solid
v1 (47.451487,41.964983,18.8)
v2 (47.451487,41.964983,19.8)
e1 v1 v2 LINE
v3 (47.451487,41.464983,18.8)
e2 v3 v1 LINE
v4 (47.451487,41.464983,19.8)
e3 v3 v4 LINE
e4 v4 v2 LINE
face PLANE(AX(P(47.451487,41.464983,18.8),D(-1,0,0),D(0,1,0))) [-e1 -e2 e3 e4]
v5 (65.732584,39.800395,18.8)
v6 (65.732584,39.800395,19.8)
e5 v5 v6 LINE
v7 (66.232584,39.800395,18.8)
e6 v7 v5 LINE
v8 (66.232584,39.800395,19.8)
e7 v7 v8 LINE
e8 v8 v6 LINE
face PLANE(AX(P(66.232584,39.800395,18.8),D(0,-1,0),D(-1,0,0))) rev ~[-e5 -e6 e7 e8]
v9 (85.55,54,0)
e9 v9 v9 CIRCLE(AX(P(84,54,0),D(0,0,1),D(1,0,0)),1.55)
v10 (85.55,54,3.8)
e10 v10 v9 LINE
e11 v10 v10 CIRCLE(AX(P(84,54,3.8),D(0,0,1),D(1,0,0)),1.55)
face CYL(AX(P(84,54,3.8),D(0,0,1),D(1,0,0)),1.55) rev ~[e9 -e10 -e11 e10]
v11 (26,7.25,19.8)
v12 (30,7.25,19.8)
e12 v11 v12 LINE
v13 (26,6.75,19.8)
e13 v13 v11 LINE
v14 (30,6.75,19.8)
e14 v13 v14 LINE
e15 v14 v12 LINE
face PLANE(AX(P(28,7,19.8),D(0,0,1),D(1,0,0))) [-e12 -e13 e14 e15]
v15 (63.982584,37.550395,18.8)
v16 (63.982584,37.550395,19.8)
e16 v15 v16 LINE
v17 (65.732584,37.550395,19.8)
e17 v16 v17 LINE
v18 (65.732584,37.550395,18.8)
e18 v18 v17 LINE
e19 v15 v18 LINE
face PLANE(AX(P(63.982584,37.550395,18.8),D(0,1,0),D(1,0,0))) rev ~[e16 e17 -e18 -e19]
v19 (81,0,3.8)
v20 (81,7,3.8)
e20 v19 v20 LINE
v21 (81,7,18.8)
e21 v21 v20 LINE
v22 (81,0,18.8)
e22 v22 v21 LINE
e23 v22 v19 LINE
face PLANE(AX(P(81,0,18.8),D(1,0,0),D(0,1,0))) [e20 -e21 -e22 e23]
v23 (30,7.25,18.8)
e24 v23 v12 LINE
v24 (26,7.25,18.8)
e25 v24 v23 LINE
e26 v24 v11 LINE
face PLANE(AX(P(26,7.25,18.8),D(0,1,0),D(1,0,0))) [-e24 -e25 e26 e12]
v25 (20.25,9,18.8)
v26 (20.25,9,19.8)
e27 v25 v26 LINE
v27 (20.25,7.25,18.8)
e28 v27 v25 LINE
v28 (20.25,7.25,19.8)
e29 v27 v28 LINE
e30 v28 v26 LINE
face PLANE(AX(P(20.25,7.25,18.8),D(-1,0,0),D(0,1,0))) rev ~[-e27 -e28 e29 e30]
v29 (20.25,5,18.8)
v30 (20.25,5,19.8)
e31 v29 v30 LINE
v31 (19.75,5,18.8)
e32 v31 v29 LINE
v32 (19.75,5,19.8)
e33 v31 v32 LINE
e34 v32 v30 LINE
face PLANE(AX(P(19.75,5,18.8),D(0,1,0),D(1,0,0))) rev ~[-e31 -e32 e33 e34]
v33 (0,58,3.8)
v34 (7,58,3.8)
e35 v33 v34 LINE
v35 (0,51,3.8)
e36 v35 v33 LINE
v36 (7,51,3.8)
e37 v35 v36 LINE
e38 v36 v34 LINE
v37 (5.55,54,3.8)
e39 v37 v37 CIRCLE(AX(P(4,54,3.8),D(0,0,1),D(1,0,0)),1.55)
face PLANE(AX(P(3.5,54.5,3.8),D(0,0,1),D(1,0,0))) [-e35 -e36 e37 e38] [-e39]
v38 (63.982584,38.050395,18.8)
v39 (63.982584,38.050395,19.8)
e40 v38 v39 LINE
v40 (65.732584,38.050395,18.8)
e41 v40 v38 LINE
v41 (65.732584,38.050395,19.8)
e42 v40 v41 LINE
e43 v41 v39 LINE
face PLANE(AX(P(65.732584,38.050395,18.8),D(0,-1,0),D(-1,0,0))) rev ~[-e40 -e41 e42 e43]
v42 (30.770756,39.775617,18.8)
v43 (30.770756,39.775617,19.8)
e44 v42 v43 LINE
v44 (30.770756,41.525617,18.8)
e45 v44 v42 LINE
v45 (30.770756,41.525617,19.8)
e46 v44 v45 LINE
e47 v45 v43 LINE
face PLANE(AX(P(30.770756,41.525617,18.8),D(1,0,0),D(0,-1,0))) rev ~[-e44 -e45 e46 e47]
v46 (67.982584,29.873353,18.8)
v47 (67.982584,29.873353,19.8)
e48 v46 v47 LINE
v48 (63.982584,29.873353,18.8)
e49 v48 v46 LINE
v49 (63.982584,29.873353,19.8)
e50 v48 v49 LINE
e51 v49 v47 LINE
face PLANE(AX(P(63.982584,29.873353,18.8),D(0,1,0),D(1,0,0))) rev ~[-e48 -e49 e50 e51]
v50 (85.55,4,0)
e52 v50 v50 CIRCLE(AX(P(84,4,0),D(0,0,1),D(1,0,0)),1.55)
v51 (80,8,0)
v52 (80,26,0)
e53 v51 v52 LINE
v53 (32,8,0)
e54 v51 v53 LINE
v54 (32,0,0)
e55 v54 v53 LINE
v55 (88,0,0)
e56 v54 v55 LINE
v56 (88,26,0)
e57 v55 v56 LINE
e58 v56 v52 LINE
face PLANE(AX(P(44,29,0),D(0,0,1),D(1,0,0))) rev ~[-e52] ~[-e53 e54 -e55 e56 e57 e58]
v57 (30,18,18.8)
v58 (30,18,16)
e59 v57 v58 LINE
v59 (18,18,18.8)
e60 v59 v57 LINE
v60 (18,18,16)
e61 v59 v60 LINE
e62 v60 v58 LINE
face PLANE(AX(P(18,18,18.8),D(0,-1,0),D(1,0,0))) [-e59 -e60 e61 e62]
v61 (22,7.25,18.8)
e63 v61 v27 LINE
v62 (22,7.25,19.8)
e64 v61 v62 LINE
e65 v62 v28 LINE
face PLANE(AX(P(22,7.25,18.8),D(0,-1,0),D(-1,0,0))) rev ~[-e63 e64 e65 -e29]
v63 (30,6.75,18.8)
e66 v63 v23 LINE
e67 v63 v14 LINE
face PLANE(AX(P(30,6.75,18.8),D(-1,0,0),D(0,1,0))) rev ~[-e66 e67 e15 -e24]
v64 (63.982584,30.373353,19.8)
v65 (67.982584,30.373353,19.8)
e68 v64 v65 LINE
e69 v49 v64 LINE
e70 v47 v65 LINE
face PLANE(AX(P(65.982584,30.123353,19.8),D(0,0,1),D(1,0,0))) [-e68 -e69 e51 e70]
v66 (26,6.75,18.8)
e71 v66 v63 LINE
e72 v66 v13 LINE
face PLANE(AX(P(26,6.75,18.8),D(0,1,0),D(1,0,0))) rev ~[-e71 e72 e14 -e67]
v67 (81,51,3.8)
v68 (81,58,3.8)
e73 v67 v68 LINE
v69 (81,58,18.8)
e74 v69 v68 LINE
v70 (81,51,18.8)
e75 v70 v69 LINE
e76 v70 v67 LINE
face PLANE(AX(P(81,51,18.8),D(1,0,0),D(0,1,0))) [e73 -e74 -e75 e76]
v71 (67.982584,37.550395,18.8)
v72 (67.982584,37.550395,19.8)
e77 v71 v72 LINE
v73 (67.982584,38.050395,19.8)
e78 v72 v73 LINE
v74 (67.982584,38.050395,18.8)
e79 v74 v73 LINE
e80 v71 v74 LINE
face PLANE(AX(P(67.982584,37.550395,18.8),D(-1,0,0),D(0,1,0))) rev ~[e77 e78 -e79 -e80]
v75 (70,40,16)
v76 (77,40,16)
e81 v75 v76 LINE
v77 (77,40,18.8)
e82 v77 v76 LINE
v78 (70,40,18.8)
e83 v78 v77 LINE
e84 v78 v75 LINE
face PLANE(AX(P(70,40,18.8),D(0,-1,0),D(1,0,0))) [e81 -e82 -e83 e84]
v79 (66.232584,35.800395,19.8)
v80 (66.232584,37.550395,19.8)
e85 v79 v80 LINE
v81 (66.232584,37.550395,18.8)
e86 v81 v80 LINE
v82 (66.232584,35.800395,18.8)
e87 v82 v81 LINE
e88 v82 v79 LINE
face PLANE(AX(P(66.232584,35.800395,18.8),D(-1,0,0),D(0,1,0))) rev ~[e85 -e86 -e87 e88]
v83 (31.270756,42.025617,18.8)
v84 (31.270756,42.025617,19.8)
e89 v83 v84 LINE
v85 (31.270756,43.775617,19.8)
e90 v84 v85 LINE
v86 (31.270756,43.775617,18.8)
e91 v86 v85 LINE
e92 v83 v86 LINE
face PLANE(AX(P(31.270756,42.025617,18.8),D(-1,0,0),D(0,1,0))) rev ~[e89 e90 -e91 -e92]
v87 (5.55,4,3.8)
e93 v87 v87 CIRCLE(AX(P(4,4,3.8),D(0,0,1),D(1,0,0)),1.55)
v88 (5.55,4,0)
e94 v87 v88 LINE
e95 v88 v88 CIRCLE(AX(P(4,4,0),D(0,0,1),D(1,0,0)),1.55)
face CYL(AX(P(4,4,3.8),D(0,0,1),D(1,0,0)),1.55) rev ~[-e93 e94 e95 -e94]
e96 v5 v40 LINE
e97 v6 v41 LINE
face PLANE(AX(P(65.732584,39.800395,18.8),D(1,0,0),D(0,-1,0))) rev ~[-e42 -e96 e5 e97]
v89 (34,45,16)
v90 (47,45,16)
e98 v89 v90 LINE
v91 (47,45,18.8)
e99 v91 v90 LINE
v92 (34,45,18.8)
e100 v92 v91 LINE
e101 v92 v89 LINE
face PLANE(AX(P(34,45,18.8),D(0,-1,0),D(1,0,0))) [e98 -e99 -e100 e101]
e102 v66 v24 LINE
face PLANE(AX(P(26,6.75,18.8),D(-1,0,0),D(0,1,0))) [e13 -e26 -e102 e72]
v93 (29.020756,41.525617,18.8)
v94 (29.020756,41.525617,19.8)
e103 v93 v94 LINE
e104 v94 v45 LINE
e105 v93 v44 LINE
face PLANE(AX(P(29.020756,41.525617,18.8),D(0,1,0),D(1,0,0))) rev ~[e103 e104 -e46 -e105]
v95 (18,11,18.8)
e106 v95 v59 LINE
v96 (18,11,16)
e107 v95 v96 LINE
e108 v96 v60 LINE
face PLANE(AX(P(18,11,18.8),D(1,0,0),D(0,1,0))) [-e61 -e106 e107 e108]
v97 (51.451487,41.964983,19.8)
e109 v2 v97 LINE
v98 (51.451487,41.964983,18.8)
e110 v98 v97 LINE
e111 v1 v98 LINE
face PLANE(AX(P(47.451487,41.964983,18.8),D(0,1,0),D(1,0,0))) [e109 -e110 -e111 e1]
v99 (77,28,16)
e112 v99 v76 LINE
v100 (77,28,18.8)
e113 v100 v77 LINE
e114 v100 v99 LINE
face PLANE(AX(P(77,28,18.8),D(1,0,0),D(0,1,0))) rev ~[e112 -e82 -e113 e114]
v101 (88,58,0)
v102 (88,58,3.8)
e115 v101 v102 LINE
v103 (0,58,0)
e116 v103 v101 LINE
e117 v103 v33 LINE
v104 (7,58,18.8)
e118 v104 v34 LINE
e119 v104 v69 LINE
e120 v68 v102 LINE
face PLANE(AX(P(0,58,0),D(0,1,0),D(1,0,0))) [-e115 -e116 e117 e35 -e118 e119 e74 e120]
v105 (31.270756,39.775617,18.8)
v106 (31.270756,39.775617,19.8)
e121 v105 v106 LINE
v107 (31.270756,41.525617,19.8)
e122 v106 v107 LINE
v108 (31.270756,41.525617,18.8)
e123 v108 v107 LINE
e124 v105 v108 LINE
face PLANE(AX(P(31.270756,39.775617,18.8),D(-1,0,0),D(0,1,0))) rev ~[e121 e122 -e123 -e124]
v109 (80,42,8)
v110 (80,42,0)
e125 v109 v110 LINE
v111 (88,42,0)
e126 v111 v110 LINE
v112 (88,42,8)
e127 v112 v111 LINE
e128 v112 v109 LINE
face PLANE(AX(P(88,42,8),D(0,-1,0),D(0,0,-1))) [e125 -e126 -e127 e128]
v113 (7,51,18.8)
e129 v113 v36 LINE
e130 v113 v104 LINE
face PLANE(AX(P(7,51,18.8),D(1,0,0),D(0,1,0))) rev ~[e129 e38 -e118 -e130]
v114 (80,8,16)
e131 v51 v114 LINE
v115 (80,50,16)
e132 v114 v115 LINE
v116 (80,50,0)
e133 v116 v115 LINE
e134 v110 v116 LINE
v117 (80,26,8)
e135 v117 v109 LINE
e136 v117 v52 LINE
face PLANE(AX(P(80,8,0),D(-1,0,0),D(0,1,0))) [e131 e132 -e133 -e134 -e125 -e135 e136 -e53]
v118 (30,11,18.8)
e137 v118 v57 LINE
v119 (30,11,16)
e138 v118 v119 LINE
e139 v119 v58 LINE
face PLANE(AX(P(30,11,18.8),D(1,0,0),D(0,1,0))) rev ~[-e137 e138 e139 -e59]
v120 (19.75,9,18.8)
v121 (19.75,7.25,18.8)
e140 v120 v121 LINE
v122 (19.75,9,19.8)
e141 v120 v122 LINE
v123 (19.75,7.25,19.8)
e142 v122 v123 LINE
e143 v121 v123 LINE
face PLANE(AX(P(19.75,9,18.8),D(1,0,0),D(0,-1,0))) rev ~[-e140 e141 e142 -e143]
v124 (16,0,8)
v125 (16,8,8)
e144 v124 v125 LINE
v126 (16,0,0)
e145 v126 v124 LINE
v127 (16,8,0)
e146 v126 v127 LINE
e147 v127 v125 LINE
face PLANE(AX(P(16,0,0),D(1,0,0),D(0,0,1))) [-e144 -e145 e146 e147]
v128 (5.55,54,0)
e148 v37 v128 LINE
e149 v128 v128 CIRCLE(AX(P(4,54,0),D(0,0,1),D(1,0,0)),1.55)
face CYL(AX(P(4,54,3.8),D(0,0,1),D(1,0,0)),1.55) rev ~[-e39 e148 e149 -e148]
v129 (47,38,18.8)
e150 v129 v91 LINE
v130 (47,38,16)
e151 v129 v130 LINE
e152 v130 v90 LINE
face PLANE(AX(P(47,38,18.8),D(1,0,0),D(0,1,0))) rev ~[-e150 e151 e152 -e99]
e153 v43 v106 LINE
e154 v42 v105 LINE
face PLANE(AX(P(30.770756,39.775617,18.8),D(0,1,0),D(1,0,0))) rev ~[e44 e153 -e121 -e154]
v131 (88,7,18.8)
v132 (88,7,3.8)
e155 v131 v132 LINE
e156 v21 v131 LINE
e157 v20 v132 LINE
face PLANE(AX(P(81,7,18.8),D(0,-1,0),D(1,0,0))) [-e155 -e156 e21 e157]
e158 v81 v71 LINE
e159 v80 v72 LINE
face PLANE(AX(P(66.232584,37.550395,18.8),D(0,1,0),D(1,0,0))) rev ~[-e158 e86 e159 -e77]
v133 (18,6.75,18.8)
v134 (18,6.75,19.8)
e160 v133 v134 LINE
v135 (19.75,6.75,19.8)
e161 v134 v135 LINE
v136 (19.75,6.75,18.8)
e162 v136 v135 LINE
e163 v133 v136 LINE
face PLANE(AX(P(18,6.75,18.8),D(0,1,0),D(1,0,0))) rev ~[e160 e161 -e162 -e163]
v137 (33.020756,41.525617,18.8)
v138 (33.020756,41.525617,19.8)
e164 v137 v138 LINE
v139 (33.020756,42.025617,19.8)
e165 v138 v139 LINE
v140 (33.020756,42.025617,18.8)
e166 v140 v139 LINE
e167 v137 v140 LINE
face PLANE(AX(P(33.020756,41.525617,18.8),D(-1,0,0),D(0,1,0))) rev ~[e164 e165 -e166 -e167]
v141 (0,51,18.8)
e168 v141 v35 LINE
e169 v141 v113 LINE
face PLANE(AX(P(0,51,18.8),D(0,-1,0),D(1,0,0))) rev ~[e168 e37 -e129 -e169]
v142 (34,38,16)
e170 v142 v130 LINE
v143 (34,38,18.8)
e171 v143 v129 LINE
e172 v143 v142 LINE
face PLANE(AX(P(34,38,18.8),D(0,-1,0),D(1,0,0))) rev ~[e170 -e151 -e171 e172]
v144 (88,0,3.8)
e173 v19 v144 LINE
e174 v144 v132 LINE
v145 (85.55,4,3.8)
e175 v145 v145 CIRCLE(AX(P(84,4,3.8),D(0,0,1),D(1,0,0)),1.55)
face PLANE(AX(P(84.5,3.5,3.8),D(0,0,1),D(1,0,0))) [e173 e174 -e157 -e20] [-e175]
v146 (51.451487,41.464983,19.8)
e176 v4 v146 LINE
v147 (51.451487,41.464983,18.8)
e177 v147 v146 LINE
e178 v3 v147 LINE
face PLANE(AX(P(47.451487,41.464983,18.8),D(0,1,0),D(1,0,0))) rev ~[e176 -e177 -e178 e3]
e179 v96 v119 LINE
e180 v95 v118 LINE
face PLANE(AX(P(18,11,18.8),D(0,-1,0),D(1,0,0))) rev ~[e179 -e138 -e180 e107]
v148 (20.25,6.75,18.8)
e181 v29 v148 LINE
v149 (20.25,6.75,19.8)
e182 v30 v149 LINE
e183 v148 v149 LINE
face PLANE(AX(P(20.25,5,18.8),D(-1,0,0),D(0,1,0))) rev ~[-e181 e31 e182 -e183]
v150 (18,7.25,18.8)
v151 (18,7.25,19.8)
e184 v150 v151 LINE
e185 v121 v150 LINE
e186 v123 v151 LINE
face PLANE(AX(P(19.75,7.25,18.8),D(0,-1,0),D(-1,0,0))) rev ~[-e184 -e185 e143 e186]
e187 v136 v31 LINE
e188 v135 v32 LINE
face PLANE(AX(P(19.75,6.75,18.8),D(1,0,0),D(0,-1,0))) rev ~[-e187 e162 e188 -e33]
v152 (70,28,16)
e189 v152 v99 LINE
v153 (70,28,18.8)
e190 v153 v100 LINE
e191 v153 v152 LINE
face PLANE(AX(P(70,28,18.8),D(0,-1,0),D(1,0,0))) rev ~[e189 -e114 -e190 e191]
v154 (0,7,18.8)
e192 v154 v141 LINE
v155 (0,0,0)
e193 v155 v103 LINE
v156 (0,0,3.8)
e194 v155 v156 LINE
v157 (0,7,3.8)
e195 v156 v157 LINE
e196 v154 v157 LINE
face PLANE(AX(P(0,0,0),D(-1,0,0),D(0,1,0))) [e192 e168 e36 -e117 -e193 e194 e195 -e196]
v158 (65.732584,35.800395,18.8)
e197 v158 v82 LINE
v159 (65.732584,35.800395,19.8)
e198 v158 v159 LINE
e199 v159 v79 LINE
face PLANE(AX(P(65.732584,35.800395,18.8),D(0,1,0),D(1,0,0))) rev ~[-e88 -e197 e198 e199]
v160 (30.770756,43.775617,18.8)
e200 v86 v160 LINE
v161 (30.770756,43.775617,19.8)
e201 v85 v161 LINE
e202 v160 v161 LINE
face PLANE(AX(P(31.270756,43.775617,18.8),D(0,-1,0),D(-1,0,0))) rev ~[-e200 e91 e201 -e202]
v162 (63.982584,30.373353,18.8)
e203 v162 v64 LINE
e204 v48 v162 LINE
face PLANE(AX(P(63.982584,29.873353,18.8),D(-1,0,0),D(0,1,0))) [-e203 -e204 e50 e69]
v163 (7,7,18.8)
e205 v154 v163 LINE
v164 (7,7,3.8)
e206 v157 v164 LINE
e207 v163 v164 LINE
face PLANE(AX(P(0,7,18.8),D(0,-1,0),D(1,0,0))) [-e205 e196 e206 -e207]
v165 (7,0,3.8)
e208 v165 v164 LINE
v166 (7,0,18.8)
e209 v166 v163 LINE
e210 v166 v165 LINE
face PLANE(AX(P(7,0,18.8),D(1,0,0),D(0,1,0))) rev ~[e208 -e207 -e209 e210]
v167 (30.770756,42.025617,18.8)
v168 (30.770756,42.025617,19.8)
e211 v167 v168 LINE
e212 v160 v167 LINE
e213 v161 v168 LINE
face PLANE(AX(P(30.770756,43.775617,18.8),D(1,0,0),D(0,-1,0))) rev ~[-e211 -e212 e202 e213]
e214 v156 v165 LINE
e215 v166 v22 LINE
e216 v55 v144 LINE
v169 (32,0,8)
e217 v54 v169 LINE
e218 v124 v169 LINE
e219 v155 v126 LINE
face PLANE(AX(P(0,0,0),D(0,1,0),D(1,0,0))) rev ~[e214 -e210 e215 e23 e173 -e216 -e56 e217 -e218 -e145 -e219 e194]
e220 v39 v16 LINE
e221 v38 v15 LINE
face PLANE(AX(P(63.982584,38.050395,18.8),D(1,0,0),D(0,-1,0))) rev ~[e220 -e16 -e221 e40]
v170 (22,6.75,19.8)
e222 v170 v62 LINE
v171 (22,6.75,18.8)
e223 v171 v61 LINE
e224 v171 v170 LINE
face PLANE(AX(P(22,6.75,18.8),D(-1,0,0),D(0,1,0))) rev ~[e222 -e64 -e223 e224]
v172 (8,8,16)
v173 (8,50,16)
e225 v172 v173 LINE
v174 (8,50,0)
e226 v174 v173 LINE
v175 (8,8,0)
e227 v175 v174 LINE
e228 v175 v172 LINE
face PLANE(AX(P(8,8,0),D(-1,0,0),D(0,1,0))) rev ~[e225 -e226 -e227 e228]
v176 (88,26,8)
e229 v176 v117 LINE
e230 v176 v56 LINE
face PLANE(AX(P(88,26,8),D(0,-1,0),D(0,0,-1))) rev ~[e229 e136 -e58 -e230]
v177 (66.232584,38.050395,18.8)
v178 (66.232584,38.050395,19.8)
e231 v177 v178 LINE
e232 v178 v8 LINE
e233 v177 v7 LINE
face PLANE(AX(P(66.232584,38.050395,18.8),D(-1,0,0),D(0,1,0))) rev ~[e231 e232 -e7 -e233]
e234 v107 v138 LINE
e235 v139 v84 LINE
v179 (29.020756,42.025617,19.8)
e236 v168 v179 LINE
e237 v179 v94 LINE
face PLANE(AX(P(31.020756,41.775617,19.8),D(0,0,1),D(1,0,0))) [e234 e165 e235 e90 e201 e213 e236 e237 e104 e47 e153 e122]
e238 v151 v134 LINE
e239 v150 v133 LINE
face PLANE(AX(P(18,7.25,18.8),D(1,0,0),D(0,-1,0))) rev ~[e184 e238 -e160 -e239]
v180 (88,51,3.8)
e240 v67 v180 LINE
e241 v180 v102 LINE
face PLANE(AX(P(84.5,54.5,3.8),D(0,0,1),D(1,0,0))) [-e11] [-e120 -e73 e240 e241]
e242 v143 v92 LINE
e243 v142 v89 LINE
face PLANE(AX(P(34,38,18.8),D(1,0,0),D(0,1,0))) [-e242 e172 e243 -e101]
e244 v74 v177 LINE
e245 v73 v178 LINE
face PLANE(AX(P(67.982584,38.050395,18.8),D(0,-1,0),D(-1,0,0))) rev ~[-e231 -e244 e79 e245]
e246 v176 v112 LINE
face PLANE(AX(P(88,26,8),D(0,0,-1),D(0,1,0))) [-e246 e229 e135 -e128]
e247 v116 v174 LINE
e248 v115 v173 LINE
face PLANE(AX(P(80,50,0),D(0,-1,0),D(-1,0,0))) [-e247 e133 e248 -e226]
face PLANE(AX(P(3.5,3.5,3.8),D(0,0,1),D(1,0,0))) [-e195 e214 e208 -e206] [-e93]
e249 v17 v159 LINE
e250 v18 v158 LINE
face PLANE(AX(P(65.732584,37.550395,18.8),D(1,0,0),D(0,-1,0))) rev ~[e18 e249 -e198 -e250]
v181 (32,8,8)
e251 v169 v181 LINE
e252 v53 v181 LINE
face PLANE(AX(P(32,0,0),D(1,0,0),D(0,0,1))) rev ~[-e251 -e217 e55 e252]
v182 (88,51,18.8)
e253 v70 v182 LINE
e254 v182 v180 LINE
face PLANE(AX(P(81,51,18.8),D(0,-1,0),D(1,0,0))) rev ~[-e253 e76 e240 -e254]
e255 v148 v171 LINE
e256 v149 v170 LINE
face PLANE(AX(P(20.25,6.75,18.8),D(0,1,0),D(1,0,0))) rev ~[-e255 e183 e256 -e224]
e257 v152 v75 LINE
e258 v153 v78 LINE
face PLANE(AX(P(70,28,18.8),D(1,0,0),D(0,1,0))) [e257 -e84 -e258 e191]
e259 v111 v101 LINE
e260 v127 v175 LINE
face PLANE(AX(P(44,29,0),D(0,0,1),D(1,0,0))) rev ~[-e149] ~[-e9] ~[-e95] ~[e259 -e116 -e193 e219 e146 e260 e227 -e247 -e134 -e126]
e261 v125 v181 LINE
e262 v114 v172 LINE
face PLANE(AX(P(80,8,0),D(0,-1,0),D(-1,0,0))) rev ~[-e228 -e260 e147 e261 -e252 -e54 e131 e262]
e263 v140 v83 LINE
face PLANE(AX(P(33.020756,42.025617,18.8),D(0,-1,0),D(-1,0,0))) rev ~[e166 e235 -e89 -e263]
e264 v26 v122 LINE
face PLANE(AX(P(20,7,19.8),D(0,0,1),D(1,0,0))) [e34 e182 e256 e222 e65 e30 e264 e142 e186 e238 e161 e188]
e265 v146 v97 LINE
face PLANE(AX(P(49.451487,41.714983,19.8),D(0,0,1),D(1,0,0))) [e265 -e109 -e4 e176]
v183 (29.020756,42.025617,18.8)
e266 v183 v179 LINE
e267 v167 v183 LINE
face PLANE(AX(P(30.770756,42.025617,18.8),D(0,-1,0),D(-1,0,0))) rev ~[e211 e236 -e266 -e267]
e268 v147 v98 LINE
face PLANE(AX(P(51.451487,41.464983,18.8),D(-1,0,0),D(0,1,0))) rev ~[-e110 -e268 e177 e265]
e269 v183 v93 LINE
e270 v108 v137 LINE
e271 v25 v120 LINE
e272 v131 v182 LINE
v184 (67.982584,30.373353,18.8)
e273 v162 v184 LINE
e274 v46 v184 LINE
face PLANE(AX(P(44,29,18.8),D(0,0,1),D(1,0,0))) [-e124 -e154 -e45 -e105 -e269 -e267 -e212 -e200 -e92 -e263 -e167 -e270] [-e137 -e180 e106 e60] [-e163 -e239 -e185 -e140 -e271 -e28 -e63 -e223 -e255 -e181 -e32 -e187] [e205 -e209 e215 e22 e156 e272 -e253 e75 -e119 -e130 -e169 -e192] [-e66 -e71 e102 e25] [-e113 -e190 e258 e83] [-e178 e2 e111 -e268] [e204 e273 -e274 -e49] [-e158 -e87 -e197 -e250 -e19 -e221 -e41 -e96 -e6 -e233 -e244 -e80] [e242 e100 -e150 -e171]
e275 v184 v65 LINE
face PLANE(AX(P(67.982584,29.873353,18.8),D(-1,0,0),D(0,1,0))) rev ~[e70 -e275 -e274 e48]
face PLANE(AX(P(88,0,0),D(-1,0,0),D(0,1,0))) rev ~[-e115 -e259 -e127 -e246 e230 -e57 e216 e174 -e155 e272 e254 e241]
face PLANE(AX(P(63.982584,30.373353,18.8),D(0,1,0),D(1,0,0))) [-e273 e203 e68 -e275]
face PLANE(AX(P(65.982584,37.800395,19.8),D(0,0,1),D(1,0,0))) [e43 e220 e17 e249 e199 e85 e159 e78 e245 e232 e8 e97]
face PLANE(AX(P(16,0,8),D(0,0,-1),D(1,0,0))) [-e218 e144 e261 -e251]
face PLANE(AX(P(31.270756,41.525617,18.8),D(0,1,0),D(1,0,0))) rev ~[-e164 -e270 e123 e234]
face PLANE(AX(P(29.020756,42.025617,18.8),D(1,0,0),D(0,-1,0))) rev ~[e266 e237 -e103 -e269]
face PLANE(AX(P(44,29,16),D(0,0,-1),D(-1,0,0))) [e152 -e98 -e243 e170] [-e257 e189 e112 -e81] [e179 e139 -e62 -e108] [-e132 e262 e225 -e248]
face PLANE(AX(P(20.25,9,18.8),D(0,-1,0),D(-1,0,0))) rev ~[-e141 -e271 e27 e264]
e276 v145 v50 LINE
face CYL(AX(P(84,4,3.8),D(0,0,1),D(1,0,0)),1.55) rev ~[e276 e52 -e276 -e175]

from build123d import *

# Parameters (mm, degrees)
SKETCH_1_W           = 88
SKETCH_1_H           = 58
EXTRUDE_1_DEPTH      = 18.8
SKETCH_2_W           = 7
SKETCH_2_H           = 7
CUT_EXTRUDE_1_DEPTH  = 15
SKETCH_3_R           = 1.55
CUT_EXTRUDE_2_DEPTH  = 3
SKETCH_4_W           = 72
SKETCH_4_H           = 42
CUT_EXTRUDE_6_DEPTH  = 16
SKETCH_6_W           = 16
SKETCH_6_H           = 8
CUT_EXTRUDE_7_DEPTH  = 8
CUT_EXTRUDE_11_REACH = 109.058
SKETCH_7_W           = 12
SKETCH_7_H           = 7
SKETCH_7_W_2         = 7
SKETCH_7_H_2         = 12
SKETCH_7_W_3         = 13
CUT_EXTRUDE_13_REACH = 109.058
SKETCH_10_W          = 8
SKETCH_10_H          = 16
CUT_EXTRUDE_14_REACH = 108.457
SKETCH_3_2_R         = 1.55
SKETCH_14_W          = 4
SKETCH_14_H          = 0.5
EXTRUDE_3_DEPTH      = 1
SKETCH_16_W          = 4
SKETCH_16_H          = 0.5
EXTRUDE_5_DEPTH      = 1
SKETCH_18_W          = 4
SKETCH_18_H          = 0.5
EXTRUDE_6_DEPTH      = 1


with BuildPart() as part:
    # 草图1 → 凸台-拉伸1 (new body)
    with BuildSketch(Plane.XY):
        with Locations((44, 29)):
            Rectangle(SKETCH_1_W, SKETCH_1_H)
    extrude(amount=EXTRUDE_1_DEPTH)

    # 草图2 → 切除-拉伸1 (cut)
    with BuildSketch(Plane.XY.offset(18.8)):
        with Locations((3.5, 54.5)):
            Rectangle(SKETCH_2_W, SKETCH_2_H)
        with Locations((3.5, 3.5)):
            Rectangle(SKETCH_2_W, SKETCH_2_H)
        with Locations((84.5, 3.5)):
            Rectangle(SKETCH_2_W, SKETCH_2_H)
        with Locations((84.5, 54.5)):
            Rectangle(SKETCH_2_W, SKETCH_2_H)
    extrude(amount=-CUT_EXTRUDE_1_DEPTH, mode=Mode.SUBTRACT)

    # 草图3 → 切除-拉伸2 (cut)
    with BuildSketch(Plane.XY.offset(3.8)):
        with Locations((4, 54)):
            Circle(SKETCH_3_R)
        with Locations((4, 4)):
            Circle(SKETCH_3_R)
        with Locations((84, 4)):
            Circle(SKETCH_3_R)
        with Locations((84, 54)):
            Circle(SKETCH_3_R)
    extrude(amount=-CUT_EXTRUDE_2_DEPTH, mode=Mode.SUBTRACT)

    # 草图4 → 切除-拉伸6 (cut)
    with BuildSketch(Plane(origin=(0, 0, 0), x_dir=(-1, 0, 0), z_dir=(0, 0, -1))):
        with Locations((-44, 29)):
            Rectangle(SKETCH_4_W, SKETCH_4_H)
    extrude(amount=-CUT_EXTRUDE_6_DEPTH, mode=Mode.SUBTRACT)

    # 草图6 → 切除-拉伸7 (cut)
    with BuildSketch(Plane.XZ):
        with Locations((24, 4)):
            Rectangle(SKETCH_6_W, SKETCH_6_H)
    extrude(amount=-CUT_EXTRUDE_7_DEPTH, mode=Mode.SUBTRACT)

    # 草图7 → 切除-拉伸11 (cut, up to next)
    with BuildSketch(Plane.XY.offset(18.8), mode=Mode.PRIVATE) as cut_extrude_11_sk1:
        with Locations((24, 14.5)):
            Rectangle(SKETCH_7_W, SKETCH_7_H)
    cut_extrude_11_tool1 = extrude(cut_extrude_11_sk1.sketch, amount=-CUT_EXTRUDE_11_REACH, mode=Mode.PRIVATE) & part.part
    # 草图7 → 切除-拉伸11 (cut, up to next)
    with BuildSketch(Plane.XY.offset(18.8), mode=Mode.PRIVATE) as cut_extrude_11_sk2:
        with Locations((73.5, 34)):
            Rectangle(SKETCH_7_W_2, SKETCH_7_H_2)
    cut_extrude_11_tool2 = extrude(cut_extrude_11_sk2.sketch, amount=-CUT_EXTRUDE_11_REACH, mode=Mode.PRIVATE) & part.part
    # 草图7 → 切除-拉伸11 (cut, up to next)
    with BuildSketch(Plane.XY.offset(18.8), mode=Mode.PRIVATE) as cut_extrude_11_sk3:
        with Locations((40.5, 41.5)):
            Rectangle(SKETCH_7_W_3, SKETCH_7_H)
    cut_extrude_11_tool3 = extrude(cut_extrude_11_sk3.sketch, amount=-CUT_EXTRUDE_11_REACH, mode=Mode.PRIVATE) & part.part
    add(cut_extrude_11_tool1.solids().sort_by_distance((24, 14.5, 18.8))[0], mode=Mode.SUBTRACT)
    add(cut_extrude_11_tool2.solids().sort_by_distance((73.5, 34, 18.8))[0], mode=Mode.SUBTRACT)
    add(cut_extrude_11_tool3.solids().sort_by_distance((40.5, 41.5, 18.8))[0], mode=Mode.SUBTRACT)

    # 草图10 → 切除-拉伸13 (cut, up to next)
    with BuildSketch(Plane(origin=(88, 0, 0), x_dir=(0, 0, -1), z_dir=(1, 0, 0)), mode=Mode.PRIVATE) as cut_extrude_13_sk1:
        with Locations((-4, 34)):
            Rectangle(SKETCH_10_W, SKETCH_10_H)
    cut_extrude_13_tool1 = extrude(cut_extrude_13_sk1.sketch, amount=-CUT_EXTRUDE_13_REACH, mode=Mode.PRIVATE) & part.part
    add(cut_extrude_13_tool1.solids().sort_by_distance((88, 34, 4))[0], mode=Mode.SUBTRACT)

    # 草图3<2> → 切除-拉伸14 (cut, up to next)
    with BuildSketch(Plane.XY.offset(3.8), mode=Mode.PRIVATE) as cut_extrude_14_sk1:
        with Locations((4, 54)):
            Circle(SKETCH_3_2_R)
    cut_extrude_14_tool1 = extrude(cut_extrude_14_sk1.sketch, amount=-CUT_EXTRUDE_14_REACH, mode=Mode.PRIVATE) & part.part
    # 草图3<2> → 切除-拉伸14 (cut, up to next)
    with BuildSketch(Plane.XY.offset(3.8), mode=Mode.PRIVATE) as cut_extrude_14_sk2:
        with Locations((4, 4)):
            Circle(SKETCH_3_2_R)
    cut_extrude_14_tool2 = extrude(cut_extrude_14_sk2.sketch, amount=-CUT_EXTRUDE_14_REACH, mode=Mode.PRIVATE) & part.part
    # 草图3<2> → 切除-拉伸14 (cut, up to next)
    with BuildSketch(Plane.XY.offset(3.8), mode=Mode.PRIVATE) as cut_extrude_14_sk3:
        with Locations((84, 4)):
            Circle(SKETCH_3_2_R)
    cut_extrude_14_tool3 = extrude(cut_extrude_14_sk3.sketch, amount=-CUT_EXTRUDE_14_REACH, mode=Mode.PRIVATE) & part.part
    # 草图3<2> → 切除-拉伸14 (cut, up to next)
    with BuildSketch(Plane.XY.offset(3.8), mode=Mode.PRIVATE) as cut_extrude_14_sk4:
        with Locations((84, 54)):
            Circle(SKETCH_3_2_R)
    cut_extrude_14_tool4 = extrude(cut_extrude_14_sk4.sketch, amount=-CUT_EXTRUDE_14_REACH, mode=Mode.PRIVATE) & part.part
    add(cut_extrude_14_tool1.solids().sort_by_distance((4, 54, 3.8))[0], mode=Mode.SUBTRACT)
    add(cut_extrude_14_tool2.solids().sort_by_distance((4, 4, 3.8))[0], mode=Mode.SUBTRACT)
    add(cut_extrude_14_tool3.solids().sort_by_distance((84, 4, 3.8))[0], mode=Mode.SUBTRACT)
    add(cut_extrude_14_tool4.solids().sort_by_distance((84, 54, 3.8))[0], mode=Mode.SUBTRACT)

    # 草图14 → 凸台-拉伸3 (add)
    with BuildSketch(Plane.XY.offset(18.8)):
        Polygon((19.75, 7.25), (18, 7.25), (18, 6.75), (19.75, 6.75), (19.75, 5), (20.25, 5), (20.25, 6.75), (22, 6.75), (22, 7.25), (20.25, 7.25), (20.25, 9), (19.75, 9), align=None)
        with Locations((28, 7)):
            Rectangle(SKETCH_14_W, SKETCH_14_H)
    extrude(amount=EXTRUDE_3_DEPTH)

    # 草图16 → 凸台-拉伸5 (add)
    with BuildSketch(Plane.XY.offset(18.8)):
        Polygon((65.732583839, 38.050395287), (63.982583839, 38.050395287), (63.982583839, 37.550395287), (65.732583839, 37.550395287), (65.732583839, 35.800395287), (66.232583839, 35.800395287), (66.232583839, 37.550395287), (67.982583839, 37.550395287), (67.982583839, 38.050395287), (66.232583839, 38.050395287), (66.232583839, 39.800395287), (65.732583839, 39.800395287), align=None)
        with Locations((65.982583839, 30.12335271)):
            Rectangle(SKETCH_16_W, SKETCH_16_H)
    extrude(amount=EXTRUDE_5_DEPTH)

    # 草图18 → 凸台-拉伸6 (add)
    with BuildSketch(Plane.XY.offset(18.8)):
        Polygon((30.770756215, 42.025617215), (29.020756215, 42.025617215), (29.020756215, 41.525617215), (30.770756215, 41.525617215), (30.770756215, 39.775617215), (31.270756215, 39.775617215), (31.270756215, 41.525617215), (33.020756215, 41.525617215), (33.020756215, 42.025617215), (31.270756215, 42.025617215), (31.270756215, 43.775617215), (30.770756215, 43.775617215), align=None)
        with Locations((49.451487349, 41.714982736)):
            Rectangle(SKETCH_18_W, SKETCH_18_H)
    extrude(amount=EXTRUDE_6_DEPTH)


solid = part.part
